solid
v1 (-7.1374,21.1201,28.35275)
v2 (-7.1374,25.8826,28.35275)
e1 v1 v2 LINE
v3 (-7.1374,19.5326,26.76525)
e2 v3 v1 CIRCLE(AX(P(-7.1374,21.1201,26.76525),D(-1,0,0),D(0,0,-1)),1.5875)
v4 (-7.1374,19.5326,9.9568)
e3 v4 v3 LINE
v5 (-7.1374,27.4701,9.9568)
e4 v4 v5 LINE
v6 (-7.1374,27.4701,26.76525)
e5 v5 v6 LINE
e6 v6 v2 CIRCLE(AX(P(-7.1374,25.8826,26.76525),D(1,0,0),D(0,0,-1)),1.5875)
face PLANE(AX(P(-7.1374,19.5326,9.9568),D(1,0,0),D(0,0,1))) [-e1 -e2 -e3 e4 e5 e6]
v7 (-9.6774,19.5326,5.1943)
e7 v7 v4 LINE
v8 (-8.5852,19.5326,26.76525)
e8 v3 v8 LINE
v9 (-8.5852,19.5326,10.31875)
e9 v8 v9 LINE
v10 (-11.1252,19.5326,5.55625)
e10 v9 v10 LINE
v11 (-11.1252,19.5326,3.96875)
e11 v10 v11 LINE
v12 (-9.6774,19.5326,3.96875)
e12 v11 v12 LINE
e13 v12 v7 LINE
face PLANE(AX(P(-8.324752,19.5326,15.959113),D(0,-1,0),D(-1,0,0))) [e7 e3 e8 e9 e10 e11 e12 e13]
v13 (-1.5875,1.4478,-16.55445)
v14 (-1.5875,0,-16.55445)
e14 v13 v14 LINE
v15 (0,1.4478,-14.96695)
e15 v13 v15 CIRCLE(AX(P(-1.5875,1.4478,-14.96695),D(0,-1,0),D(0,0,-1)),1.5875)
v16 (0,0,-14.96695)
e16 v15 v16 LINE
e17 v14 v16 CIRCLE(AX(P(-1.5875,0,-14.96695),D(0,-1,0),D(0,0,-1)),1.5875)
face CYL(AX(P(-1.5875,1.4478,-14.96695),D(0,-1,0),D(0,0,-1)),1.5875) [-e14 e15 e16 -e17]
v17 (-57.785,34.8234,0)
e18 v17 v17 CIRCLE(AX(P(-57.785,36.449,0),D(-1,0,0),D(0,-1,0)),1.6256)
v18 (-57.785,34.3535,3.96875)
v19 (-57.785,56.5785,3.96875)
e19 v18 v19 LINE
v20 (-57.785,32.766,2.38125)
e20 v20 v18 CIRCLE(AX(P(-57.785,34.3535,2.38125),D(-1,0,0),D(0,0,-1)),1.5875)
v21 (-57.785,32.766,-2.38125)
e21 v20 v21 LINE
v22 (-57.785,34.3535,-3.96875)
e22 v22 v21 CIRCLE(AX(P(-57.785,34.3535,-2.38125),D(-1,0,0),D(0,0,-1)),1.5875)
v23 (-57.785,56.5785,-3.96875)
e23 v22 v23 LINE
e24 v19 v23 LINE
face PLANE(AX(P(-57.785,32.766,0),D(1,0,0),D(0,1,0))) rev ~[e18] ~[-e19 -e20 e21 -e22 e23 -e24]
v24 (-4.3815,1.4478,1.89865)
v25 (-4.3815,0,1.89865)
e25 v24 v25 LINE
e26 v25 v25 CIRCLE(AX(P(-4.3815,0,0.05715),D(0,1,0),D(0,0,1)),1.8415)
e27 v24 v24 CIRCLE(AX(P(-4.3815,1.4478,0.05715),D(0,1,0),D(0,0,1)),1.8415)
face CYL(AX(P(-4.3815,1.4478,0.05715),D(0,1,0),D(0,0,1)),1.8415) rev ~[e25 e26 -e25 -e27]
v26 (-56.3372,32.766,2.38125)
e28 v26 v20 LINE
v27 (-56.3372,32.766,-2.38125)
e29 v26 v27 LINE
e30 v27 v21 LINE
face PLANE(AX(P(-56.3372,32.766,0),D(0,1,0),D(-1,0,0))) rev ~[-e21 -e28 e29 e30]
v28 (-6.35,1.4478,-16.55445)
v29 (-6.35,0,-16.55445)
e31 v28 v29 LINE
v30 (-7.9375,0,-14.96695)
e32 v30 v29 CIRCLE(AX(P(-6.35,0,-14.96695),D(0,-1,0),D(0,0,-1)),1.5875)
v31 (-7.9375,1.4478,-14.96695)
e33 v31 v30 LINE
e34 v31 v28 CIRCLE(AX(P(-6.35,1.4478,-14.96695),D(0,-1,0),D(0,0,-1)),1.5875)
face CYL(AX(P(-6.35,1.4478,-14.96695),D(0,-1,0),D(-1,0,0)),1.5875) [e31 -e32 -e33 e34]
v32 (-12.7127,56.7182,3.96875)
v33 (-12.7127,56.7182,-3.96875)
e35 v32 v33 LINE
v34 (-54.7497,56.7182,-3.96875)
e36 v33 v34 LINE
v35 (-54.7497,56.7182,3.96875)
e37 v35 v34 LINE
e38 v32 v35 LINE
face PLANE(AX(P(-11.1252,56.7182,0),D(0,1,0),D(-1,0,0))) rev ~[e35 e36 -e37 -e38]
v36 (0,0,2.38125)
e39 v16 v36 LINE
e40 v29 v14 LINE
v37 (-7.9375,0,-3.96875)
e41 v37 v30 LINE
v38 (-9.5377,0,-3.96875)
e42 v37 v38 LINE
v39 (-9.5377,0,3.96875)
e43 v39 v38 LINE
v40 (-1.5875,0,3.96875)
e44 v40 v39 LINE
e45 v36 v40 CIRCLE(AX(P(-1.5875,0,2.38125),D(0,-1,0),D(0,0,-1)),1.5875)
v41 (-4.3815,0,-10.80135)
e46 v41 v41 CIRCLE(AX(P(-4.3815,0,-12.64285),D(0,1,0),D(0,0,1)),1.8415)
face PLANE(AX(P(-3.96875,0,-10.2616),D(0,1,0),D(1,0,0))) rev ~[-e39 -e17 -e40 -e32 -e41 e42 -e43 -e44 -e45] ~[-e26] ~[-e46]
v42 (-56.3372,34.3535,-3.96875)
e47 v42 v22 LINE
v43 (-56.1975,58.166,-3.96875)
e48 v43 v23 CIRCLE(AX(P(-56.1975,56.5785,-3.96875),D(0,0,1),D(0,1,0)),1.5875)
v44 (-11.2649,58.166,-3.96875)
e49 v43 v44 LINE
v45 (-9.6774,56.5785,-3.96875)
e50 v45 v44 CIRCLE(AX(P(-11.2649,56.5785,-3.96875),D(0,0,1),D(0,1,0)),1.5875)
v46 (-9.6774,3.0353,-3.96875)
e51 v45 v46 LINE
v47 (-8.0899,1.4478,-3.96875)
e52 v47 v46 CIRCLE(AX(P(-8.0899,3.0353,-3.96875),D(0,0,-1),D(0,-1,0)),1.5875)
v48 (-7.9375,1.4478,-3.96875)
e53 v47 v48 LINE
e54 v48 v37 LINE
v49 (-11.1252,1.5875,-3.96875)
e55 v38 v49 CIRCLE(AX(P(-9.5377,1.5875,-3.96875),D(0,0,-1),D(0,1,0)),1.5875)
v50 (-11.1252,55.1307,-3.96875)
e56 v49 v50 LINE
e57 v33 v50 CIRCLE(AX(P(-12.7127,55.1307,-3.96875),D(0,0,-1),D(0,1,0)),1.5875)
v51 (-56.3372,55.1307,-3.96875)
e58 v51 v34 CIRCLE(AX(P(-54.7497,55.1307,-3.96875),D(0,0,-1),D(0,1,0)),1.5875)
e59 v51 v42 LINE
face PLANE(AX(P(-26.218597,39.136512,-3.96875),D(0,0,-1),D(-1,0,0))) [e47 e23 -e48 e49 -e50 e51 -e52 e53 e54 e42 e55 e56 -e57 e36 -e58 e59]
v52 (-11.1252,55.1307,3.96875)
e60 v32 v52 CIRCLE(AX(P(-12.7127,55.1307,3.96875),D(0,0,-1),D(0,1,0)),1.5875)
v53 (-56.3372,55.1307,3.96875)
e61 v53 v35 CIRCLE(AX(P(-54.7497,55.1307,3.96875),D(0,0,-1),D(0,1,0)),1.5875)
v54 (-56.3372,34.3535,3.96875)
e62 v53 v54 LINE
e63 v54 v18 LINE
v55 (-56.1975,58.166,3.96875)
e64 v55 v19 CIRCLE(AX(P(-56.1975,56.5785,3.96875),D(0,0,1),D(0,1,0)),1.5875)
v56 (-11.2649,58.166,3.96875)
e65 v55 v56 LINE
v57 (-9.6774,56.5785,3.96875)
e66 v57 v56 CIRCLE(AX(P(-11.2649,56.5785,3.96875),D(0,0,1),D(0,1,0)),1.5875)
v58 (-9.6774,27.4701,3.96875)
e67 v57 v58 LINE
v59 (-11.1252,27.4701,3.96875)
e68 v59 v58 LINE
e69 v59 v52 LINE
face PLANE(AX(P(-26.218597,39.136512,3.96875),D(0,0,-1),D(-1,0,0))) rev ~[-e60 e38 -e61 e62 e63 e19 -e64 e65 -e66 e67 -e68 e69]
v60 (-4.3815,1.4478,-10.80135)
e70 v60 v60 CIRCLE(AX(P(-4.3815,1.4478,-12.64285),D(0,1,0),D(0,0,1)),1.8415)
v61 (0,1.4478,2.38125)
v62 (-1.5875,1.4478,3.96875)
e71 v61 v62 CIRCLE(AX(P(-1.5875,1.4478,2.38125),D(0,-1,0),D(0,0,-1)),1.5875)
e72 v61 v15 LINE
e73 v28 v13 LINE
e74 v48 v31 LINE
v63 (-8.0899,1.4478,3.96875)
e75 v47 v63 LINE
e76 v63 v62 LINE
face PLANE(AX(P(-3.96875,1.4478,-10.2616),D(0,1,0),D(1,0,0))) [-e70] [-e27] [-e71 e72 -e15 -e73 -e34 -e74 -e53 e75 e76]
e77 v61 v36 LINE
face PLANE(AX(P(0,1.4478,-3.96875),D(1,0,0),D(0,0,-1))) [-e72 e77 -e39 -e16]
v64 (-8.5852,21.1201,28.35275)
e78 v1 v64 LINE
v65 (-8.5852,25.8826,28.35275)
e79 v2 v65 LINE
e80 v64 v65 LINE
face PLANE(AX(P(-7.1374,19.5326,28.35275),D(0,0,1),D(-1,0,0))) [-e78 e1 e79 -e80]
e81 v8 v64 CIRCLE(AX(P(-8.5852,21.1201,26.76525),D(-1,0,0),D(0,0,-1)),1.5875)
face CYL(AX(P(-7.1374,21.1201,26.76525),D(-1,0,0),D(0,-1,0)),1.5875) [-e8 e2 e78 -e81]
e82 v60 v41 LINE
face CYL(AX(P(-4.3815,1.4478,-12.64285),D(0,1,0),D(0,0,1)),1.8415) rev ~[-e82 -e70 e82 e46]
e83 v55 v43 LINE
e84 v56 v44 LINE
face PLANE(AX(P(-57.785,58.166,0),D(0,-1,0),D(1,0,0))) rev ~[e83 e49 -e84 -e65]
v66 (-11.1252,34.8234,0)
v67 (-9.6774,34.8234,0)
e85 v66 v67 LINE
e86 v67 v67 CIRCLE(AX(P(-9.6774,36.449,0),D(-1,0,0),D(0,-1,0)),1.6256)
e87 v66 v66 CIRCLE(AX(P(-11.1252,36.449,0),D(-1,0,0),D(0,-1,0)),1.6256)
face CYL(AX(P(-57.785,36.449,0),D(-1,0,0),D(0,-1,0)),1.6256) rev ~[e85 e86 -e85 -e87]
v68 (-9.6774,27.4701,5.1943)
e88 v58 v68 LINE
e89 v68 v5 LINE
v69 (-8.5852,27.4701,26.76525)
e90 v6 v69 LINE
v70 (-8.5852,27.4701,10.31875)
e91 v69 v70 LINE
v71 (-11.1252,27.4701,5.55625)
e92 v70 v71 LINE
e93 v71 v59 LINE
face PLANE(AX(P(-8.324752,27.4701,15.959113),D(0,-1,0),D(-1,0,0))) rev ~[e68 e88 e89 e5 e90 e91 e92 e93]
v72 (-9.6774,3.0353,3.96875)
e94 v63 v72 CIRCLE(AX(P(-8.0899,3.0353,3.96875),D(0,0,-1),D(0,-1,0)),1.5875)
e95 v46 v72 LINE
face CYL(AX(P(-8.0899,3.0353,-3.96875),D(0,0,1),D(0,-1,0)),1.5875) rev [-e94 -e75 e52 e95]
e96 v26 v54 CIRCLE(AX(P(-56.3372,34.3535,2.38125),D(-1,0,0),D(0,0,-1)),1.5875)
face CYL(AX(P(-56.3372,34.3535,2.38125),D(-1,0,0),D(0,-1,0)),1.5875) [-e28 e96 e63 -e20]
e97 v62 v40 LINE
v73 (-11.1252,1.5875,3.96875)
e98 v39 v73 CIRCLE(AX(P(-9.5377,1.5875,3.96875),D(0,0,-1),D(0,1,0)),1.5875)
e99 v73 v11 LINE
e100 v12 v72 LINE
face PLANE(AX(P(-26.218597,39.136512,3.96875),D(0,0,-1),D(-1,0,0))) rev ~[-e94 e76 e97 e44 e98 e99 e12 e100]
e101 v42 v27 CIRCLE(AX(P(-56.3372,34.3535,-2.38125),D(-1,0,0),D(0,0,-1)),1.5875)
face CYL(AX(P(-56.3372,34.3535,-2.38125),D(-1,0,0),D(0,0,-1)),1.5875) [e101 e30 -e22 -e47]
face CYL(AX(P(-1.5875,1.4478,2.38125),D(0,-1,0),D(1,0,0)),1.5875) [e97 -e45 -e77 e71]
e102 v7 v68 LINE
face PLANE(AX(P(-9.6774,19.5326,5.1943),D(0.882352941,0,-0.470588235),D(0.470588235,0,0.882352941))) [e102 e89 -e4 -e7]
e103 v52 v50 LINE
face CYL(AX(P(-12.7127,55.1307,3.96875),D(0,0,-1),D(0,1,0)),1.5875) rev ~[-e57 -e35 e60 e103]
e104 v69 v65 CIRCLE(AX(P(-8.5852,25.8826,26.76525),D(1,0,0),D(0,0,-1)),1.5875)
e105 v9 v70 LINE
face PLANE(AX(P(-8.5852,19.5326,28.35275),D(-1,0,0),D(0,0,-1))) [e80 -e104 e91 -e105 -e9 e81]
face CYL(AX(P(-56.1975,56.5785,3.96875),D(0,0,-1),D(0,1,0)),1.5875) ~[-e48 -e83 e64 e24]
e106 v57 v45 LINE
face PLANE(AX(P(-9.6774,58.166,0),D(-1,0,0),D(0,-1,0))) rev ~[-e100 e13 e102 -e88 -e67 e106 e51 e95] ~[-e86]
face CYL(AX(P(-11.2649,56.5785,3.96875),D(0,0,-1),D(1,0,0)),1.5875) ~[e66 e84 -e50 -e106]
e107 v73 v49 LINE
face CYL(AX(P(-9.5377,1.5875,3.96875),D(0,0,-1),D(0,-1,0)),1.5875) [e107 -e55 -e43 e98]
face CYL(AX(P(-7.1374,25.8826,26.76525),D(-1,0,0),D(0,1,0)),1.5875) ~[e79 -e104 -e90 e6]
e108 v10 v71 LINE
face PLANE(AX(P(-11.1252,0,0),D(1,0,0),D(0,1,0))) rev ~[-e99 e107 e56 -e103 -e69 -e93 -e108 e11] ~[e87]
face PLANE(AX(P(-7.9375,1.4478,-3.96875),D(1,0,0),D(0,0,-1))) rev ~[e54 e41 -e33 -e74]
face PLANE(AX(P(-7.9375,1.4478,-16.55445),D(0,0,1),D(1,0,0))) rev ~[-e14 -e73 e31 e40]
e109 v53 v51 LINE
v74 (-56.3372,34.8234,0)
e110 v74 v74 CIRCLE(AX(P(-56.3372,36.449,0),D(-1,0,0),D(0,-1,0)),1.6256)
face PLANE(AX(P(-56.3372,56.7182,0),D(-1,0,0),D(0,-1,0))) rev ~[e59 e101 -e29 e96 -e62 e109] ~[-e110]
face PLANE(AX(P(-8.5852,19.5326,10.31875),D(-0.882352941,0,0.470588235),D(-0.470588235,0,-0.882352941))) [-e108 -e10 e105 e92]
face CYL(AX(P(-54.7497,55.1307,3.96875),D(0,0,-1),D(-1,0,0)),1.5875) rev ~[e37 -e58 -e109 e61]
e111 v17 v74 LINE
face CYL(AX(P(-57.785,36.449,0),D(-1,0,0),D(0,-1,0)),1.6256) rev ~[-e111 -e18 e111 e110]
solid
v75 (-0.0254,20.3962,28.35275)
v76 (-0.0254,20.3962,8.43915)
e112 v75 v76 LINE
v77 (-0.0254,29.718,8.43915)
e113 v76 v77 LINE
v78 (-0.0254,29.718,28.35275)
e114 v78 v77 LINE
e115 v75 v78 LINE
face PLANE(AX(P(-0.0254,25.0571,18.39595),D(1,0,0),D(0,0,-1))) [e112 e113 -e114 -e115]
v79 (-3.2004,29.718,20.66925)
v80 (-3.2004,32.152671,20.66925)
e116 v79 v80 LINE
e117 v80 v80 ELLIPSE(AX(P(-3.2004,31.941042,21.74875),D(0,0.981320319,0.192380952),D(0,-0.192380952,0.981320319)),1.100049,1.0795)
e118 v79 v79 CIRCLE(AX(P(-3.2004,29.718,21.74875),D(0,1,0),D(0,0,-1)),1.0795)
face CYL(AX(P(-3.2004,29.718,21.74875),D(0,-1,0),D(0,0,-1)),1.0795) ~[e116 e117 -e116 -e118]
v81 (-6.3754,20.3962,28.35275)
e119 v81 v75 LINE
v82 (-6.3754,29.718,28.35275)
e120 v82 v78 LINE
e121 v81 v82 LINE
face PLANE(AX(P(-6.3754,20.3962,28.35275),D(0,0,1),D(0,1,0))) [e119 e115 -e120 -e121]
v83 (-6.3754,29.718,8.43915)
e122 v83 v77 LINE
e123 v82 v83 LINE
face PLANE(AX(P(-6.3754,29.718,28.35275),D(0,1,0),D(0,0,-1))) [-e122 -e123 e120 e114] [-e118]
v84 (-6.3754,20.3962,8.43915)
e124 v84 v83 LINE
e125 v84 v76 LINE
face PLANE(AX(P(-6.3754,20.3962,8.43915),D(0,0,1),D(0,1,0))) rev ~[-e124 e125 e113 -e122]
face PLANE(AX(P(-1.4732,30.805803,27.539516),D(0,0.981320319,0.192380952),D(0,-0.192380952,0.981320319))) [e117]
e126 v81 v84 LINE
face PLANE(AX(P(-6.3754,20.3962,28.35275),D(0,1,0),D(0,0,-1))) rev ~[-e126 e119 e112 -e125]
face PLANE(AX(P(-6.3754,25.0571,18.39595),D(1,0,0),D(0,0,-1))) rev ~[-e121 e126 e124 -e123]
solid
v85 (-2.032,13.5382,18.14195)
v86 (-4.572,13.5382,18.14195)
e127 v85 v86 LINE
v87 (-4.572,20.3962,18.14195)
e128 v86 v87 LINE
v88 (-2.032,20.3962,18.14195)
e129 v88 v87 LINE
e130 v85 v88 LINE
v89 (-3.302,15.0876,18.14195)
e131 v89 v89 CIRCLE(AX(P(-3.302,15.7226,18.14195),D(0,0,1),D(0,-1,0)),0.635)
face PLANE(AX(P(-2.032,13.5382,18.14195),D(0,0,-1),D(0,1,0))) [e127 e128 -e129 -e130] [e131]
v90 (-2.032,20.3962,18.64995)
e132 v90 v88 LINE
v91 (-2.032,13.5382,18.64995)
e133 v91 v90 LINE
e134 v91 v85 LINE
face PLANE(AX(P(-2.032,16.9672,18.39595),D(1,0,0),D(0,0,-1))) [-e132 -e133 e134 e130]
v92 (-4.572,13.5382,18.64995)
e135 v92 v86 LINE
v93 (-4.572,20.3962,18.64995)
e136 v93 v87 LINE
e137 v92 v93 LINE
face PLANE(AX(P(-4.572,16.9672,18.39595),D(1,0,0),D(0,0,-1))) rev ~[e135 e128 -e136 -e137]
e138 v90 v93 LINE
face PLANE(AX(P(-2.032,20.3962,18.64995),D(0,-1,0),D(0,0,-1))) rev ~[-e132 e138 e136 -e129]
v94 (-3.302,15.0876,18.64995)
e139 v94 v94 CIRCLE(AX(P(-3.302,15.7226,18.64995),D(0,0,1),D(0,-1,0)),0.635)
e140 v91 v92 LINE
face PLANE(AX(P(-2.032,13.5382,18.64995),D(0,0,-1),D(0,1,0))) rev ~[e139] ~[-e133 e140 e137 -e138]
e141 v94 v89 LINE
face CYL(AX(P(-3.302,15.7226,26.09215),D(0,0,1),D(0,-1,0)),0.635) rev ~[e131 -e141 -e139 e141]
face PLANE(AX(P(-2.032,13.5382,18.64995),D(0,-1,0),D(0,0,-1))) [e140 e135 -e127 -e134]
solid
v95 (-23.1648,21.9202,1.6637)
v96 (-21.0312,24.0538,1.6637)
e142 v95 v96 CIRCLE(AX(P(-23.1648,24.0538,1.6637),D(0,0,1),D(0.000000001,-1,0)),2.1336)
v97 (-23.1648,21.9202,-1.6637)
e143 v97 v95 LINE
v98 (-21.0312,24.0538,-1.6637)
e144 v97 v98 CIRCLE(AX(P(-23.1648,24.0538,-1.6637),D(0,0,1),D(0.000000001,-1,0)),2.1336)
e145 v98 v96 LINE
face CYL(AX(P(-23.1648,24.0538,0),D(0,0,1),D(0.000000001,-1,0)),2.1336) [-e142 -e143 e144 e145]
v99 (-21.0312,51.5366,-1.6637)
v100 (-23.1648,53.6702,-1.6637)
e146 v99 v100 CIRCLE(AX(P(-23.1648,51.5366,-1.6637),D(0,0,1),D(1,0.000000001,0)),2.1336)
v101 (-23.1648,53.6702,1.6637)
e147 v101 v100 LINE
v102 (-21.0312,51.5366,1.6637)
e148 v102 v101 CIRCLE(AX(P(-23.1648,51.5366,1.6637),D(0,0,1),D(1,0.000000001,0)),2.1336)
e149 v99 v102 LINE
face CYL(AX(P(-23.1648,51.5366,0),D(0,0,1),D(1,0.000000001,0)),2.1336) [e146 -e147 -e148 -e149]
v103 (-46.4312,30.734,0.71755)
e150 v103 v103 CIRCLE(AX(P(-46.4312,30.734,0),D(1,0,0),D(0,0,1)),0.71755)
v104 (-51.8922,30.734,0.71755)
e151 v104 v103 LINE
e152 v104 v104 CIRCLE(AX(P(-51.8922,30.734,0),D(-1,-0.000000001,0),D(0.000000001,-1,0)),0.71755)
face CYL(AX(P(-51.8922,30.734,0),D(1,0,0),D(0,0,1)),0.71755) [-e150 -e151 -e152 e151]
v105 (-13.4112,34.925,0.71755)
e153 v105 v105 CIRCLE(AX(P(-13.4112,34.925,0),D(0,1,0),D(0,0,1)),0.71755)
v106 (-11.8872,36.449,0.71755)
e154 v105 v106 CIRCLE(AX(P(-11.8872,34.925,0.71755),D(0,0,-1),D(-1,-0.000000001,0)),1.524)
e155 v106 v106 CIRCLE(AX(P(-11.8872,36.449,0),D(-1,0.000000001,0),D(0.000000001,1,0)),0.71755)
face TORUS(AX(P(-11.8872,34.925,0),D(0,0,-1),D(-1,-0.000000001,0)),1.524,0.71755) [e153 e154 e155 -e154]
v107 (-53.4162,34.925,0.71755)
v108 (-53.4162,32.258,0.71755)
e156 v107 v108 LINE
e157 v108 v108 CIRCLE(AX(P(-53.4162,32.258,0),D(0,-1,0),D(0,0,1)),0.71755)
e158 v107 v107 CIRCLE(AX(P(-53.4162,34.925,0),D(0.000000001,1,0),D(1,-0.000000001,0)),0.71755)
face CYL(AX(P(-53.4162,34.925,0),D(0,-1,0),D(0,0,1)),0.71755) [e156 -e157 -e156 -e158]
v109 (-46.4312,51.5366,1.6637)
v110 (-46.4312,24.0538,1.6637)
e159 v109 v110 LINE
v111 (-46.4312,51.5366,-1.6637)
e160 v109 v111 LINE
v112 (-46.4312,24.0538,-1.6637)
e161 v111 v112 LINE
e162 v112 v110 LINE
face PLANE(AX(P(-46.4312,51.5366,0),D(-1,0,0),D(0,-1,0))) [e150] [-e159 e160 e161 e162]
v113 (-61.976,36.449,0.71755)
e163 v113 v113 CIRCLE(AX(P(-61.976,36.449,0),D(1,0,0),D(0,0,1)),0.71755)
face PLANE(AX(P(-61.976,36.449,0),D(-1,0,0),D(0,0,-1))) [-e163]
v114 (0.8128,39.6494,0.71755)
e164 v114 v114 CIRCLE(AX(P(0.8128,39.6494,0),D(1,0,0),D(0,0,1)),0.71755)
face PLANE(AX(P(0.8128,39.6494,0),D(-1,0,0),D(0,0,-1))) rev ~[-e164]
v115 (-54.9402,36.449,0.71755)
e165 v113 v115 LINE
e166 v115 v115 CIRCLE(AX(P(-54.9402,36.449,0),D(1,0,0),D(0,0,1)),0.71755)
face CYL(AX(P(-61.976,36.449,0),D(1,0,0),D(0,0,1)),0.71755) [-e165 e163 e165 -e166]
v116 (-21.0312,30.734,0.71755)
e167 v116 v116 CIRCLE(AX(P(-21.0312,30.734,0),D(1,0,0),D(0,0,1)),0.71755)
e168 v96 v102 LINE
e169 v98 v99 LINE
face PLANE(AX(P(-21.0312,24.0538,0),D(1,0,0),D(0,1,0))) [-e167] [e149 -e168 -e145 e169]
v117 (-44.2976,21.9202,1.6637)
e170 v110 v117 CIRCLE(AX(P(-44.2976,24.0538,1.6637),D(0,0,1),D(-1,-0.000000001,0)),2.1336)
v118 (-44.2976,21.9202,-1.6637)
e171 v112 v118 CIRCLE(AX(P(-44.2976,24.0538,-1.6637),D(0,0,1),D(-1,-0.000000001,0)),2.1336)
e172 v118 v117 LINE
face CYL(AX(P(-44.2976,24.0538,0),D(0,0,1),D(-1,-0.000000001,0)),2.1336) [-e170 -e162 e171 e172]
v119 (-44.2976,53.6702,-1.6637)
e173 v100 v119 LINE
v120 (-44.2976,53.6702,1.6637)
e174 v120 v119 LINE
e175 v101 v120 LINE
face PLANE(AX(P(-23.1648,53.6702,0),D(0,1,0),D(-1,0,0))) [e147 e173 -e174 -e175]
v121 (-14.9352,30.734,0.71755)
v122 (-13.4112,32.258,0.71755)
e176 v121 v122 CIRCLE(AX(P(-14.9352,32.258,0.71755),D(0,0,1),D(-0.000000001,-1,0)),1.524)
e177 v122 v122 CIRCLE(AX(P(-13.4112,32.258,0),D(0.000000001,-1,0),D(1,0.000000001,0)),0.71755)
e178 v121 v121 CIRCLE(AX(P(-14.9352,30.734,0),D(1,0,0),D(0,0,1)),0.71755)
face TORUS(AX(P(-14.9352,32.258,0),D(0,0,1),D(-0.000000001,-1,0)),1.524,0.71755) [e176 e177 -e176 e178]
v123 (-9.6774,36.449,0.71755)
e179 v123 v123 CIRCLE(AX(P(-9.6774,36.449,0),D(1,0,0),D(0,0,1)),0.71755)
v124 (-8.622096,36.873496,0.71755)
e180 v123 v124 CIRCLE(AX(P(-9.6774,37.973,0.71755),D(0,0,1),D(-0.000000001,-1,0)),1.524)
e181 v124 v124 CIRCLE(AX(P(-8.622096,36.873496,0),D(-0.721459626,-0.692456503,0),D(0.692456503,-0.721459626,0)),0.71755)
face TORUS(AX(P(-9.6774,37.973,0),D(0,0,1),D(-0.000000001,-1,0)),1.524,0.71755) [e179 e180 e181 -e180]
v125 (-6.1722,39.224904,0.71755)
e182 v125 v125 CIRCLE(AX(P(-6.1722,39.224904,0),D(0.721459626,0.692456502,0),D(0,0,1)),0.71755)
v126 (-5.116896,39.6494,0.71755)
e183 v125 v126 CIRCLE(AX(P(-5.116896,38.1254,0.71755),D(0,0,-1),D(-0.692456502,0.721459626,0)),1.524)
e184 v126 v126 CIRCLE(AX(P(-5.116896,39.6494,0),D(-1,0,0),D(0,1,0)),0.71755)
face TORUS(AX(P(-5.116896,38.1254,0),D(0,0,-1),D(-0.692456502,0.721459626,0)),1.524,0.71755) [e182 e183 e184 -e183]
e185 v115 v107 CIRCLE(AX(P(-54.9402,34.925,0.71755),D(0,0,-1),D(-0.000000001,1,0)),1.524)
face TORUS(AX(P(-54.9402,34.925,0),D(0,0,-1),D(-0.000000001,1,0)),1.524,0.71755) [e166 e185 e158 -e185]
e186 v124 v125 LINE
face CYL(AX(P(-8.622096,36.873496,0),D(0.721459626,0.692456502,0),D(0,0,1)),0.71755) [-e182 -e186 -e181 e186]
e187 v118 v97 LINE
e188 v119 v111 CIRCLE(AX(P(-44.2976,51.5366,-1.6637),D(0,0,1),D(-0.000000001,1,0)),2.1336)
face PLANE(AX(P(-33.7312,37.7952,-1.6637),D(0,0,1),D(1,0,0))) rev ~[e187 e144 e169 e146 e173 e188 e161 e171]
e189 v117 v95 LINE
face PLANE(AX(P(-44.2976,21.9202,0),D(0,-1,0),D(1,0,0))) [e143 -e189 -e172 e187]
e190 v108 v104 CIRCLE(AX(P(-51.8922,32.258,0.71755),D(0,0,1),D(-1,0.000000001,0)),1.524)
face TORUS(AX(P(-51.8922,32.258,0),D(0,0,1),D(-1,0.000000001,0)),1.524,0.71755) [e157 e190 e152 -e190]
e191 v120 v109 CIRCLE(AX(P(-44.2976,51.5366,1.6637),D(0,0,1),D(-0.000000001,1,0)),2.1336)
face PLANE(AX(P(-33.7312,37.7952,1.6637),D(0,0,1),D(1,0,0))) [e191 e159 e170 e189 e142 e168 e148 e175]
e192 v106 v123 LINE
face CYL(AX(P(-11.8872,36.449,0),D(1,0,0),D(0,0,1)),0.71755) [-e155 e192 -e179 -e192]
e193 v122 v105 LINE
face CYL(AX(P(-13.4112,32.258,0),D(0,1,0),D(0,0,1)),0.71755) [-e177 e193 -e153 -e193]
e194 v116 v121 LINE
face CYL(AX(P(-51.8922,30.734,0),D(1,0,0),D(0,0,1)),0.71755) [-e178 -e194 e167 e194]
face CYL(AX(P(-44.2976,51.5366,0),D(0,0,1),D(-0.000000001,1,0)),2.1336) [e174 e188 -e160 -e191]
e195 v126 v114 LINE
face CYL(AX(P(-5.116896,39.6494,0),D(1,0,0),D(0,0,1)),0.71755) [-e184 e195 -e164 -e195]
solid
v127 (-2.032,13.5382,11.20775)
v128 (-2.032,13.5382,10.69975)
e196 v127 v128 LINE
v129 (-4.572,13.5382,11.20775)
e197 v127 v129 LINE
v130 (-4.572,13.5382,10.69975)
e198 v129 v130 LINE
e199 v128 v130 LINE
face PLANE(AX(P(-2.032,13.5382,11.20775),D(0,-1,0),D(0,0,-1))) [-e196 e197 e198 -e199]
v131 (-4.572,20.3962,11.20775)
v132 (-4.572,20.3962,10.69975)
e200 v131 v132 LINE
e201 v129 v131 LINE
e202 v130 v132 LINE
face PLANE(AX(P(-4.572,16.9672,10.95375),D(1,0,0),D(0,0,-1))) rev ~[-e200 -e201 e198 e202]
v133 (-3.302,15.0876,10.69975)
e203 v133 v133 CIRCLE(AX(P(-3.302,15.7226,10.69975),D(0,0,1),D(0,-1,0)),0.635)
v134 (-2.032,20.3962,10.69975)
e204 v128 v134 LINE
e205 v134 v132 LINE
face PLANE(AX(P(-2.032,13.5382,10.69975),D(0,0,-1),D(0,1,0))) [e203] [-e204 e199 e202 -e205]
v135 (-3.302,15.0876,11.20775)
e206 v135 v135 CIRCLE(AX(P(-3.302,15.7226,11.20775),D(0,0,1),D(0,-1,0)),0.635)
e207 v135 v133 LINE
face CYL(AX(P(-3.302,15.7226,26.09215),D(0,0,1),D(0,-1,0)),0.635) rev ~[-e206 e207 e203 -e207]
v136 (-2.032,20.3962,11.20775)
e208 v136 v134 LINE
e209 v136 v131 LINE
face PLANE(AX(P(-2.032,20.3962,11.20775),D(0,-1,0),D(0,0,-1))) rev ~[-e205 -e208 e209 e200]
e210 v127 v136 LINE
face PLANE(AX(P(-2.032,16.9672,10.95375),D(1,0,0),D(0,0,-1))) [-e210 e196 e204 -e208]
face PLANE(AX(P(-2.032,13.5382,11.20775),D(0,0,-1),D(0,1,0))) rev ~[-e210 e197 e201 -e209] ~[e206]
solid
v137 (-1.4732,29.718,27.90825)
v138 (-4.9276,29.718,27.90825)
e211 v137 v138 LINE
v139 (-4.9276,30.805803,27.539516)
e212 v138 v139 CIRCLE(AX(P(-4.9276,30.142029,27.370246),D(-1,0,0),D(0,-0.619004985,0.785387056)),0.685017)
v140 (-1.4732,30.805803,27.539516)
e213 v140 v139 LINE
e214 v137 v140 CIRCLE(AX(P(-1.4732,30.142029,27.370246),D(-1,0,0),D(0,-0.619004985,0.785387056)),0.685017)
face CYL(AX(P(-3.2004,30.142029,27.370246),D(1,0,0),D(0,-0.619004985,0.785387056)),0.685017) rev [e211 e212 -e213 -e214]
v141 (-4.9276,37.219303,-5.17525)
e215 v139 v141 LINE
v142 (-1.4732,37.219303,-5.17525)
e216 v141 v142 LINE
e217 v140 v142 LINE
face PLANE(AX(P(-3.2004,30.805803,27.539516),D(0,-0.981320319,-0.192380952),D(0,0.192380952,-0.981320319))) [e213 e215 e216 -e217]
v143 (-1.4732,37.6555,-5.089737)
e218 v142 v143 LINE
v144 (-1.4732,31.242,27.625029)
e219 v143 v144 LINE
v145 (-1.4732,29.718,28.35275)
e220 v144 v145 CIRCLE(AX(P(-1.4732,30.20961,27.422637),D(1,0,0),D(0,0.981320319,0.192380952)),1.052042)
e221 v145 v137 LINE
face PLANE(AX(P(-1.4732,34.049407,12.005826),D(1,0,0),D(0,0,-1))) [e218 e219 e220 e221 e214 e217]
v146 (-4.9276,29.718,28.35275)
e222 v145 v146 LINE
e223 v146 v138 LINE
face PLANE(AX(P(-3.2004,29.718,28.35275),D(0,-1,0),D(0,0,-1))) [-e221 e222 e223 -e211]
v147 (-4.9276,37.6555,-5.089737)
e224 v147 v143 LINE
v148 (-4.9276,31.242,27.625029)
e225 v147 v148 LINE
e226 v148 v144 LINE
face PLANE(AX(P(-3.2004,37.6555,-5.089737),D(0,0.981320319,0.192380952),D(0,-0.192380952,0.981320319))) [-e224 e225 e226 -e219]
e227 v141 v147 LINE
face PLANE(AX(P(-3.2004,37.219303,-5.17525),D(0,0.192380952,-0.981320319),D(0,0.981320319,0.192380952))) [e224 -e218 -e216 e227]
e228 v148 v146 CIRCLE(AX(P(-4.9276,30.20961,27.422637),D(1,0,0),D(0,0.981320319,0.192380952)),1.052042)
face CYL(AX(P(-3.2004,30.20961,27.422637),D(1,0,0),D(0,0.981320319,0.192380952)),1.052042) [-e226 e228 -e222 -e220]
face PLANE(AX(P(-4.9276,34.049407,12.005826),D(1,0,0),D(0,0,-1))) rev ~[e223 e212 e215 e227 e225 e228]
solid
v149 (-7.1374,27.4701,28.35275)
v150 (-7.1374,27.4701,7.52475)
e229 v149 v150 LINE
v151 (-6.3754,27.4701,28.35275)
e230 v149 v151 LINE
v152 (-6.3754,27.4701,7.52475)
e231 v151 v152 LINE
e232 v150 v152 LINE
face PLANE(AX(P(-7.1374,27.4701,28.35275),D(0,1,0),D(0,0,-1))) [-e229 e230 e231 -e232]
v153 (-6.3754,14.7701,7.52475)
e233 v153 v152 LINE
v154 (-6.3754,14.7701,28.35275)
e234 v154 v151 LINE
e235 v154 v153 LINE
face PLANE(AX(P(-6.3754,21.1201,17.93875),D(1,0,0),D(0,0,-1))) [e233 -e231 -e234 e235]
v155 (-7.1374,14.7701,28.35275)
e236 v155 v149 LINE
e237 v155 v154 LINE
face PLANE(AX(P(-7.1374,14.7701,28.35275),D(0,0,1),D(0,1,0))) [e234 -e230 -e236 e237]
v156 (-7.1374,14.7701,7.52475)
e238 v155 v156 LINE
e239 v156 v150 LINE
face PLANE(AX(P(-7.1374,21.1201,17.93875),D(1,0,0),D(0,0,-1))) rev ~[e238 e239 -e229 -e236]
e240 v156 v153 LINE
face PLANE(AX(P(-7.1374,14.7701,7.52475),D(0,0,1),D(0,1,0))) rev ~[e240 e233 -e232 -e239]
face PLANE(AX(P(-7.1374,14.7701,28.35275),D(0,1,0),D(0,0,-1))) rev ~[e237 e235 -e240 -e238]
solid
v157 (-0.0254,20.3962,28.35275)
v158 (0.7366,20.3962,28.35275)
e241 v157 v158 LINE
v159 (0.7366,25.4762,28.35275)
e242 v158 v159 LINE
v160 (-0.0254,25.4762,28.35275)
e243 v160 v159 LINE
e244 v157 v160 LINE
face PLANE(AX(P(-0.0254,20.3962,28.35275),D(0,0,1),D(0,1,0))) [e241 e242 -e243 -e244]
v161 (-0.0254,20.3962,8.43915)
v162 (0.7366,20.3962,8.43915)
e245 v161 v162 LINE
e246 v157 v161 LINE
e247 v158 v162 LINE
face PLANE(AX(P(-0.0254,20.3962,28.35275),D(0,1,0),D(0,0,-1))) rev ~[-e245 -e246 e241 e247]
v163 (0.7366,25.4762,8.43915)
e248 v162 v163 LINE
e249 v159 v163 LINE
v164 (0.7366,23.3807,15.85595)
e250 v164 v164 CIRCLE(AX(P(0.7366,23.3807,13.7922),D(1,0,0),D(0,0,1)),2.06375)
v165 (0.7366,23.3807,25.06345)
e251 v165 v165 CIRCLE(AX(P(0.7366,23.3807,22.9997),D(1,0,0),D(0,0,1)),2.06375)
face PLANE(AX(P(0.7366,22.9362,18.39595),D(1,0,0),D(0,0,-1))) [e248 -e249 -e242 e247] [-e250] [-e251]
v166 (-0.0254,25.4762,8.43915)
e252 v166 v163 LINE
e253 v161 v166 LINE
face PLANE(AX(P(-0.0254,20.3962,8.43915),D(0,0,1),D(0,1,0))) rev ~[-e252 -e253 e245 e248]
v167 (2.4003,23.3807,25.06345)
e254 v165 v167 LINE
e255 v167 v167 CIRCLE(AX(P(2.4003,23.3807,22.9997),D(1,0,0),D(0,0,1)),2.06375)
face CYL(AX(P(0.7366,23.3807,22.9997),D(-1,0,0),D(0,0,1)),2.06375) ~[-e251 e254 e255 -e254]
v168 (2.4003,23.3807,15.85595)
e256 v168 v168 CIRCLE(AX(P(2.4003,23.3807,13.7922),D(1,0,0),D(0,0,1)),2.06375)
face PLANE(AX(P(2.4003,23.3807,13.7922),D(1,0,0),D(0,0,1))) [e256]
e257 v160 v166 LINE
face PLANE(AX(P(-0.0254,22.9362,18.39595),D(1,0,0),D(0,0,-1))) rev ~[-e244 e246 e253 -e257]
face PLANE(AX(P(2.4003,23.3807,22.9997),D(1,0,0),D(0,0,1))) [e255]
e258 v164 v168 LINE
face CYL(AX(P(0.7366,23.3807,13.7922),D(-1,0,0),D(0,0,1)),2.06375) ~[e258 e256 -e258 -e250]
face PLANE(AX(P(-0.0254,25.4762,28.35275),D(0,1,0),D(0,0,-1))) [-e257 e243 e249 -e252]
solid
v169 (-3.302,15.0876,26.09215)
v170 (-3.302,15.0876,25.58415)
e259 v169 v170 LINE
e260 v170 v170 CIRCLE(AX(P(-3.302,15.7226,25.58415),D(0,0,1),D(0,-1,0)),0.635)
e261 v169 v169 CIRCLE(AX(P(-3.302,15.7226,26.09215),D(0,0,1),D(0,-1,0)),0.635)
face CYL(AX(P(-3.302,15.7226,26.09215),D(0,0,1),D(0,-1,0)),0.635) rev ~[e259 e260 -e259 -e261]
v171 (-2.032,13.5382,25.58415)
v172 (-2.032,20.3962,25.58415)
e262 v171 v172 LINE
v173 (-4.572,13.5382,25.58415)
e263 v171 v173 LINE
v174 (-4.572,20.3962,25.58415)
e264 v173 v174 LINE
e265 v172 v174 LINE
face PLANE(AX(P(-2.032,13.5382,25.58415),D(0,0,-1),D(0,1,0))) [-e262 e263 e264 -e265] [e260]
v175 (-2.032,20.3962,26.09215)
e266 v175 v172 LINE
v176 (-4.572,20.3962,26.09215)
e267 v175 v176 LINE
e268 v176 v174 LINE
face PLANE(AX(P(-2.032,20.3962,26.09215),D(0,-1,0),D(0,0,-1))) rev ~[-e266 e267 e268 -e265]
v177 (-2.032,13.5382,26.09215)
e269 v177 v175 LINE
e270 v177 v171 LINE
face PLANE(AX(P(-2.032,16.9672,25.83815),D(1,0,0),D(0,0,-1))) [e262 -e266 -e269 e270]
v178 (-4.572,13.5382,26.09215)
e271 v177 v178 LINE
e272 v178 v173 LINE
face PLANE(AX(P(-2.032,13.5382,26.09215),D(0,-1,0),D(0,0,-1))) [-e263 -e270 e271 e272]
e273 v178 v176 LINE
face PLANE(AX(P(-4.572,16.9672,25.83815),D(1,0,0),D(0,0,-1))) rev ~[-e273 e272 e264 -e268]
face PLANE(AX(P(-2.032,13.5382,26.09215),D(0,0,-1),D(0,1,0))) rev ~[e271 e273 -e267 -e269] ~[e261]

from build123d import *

# Parameters (mm, degrees)
BOSS_EXTRUDE1_DEPTH   = 3.96875
SKETCH2_W             = 7.9375
SKETCH2_H             = 12.5857
BOSS_EXTRUDE2_DEPTH   = 1.4478
SKETCH13_R            = 1.8415
CUT_EXTRUDE3_DEPTH    = 83.644481068
BOSS_EXTRUDE3_DEPTH   = 7.9375
SKETCH12_R            = 1.6256
CUT_EXTRUDE2_DEPTH    = 87.754067418
FILLET1_R             = 1.5875
SKETCH5_W             = 20.828
SKETCH5_H             = 12.7
BOSS_EXTRUDE5_DEPTH   = 0.762
SKETCH4_W             = 19.9136
SKETCH4_H             = 9.3218
BOSS_EXTRUDE4_DEPTH   = 6.35
SKETCH6_W             = 19.9136
SKETCH6_H             = 5.08
BOSS_EXTRUDE6_DEPTH   = 0.762
SKETCH7_R             = 2.06375
BOSS_EXTRUDE7_DEPTH   = 1.6637
SKETCH8_W             = 0.508
SKETCH8_H             = 6.858
BOSS_EXTRUDE8_DEPTH   = 2.54
BOSS_EXTRUDE8_2_DEPTH = 2.54
BOSS_EXTRUDE8_3_DEPTH = 2.54
SKETCH9_R             = 0.635
CUT_EXTRUDE1_DEPTH    = 93.418192325
BOSS_EXTRUDE9_DEPTH   = 1.7272
BOSS_EXTRUDE10_REACH  = 72.944
SKETCH11_R            = 1.0795
SKETCH15_R            = 0.71755
BOSS_EXTRUDE11_DEPTH  = 1.6637


with BuildPart() as part:
    # Sketch1 → Boss-Extrude1 (new, symmetric)
    with BuildSketch(Plane.XY):
        Polygon((0, 0), (-11.1252, 0), (-11.1252, 56.7182), (-56.3372, 56.7182), (-56.3372, 32.766), (-57.785, 32.766), (-57.785, 58.166), (-9.6774, 58.166), (-9.6774, 1.4478), (0, 1.4478), align=None)
    extrude(amount=BOSS_EXTRUDE1_DEPTH, both=True)

    # Sketch2 → Boss-Extrude2 (add)
    with BuildSketch(Plane(origin=(0, 1.4478, 0), x_dir=(1, 0, 0), z_dir=(0, 1, 0))):
        with Locations((-3.96875, 10.2616)):
            Rectangle(SKETCH2_W, SKETCH2_H)
    extrude(amount=-BOSS_EXTRUDE2_DEPTH)

    # Sketch13 → Cut-Extrude3 (cut, through all)
    with BuildSketch(Plane(origin=(0, 1.4478, 0), x_dir=(1, 0, 0), z_dir=(0, 1, 0))):
        with Locations(Location((-4.3815, 12.64285, 0), (0, 0, 270))):
            Circle(SKETCH13_R)
        with Locations(Location((-4.3815, -0.05715, 0), (0, 0, 270))):
            Circle(SKETCH13_R)
    extrude(amount=-CUT_EXTRUDE3_DEPTH, mode=Mode.SUBTRACT)

    # Sketch3 → Boss-Extrude3 (add)
    with BuildSketch(Plane(origin=(0, 19.5326, 0), x_dir=(1, 0, 0), z_dir=(0, 1, 0))):
        Polygon((-9.6774, -3.96875), (-9.6774, -5.1943), (-7.1374, -9.9568), (-7.1374, -28.35275), (-8.5852, -28.35275), (-8.5852, -10.31875), (-11.1252, -5.55625), (-11.1252, -3.96875), align=None)
    extrude(amount=BOSS_EXTRUDE3_DEPTH)

    # Sketch12 → Cut-Extrude2 (cut, through all)
    with BuildSketch(Plane.ZY.offset(57.785)):
        with Locations(Location((0, 36.449, 0), (0, 0, 270))):
            Circle(SKETCH12_R)
    extrude(amount=-CUT_EXTRUDE2_DEPTH, mode=Mode.SUBTRACT)

    # Fillet1
    fillet1_edges = [part.edges().sort_by_distance(p)[0] for p in [
        (-57.0611, 32.766, -3.96875),
        (-11.1252, 0, 0),
        (-11.1252, 56.7182, 0),
        (-56.3372, 56.7182, 0),
        (-57.785, 58.166, 0),
        (-9.6774, 58.166, 0),
        (-9.6774, 1.4478, 0),
        (-57.0611, 32.766, 3.96875),
        (0, 0.7239, -16.55445),
        (-7.9375, 0.7239, -16.55445),
        (0, 0.7239, 3.96875),
        (-7.8613, 19.5326, 28.35275),
        (-7.8613, 27.4701, 28.35275),
    ]]
    fillet(fillet1_edges, radius=FILLET1_R)


with BuildPart() as body_2:
    # Sketch5 → Boss-Extrude5 (new body)
    with BuildSketch(Plane(origin=(-7.1374, 0, 0), x_dir=(0, 0, -1), z_dir=(1, 0, 0))):
        with Locations((-17.93875, 21.1201)):
            Rectangle(SKETCH5_W, SKETCH5_H)
    extrude(amount=BOSS_EXTRUDE5_DEPTH)


with BuildPart() as body_3:
    # Sketch4 → Boss-Extrude4 (new body)
    with BuildSketch(Plane(origin=(-6.3754, 0, 0), x_dir=(0, 0, -1), z_dir=(1, 0, 0))):
        with Locations((-18.39595, 25.0571)):
            Rectangle(SKETCH4_W, SKETCH4_H)
    extrude(amount=BOSS_EXTRUDE4_DEPTH)

    # Boss-Extrude10: up to this plane
    boss_extrude10_end = Plane(origin=(-1.4732, 30.805803118, 27.539516146), z_dir=(0, 0.9813203193458281, 0.19238095238095218))
    # Sketch11 → Boss-Extrude10 (add, up to the surface)
    with BuildSketch(Plane(origin=(0, 29.718, 0), x_dir=(1, 0, 0), z_dir=(0, 1, 0)), mode=Mode.PRIVATE) as boss_extrude10_sk1:
        with Locations(Location((-3.2004, -21.74875, 0), (0, 0, 90))):
            Circle(SKETCH11_R)
    boss_extrude10_tool1 = split(extrude(boss_extrude10_sk1.sketch, amount=BOSS_EXTRUDE10_REACH, mode=Mode.PRIVATE), bisect_by=boss_extrude10_end, keep=Keep.BOTH, mode=Mode.PRIVATE)
    add(boss_extrude10_tool1.solids().sort_by_distance((-3.2004, 29.718, 21.74875))[0])


with BuildPart() as body_4:
    # Sketch6 → Boss-Extrude6 (new body)
    with BuildSketch(Plane(origin=(-0.0254, 0, 0), x_dir=(0, 0, -1), z_dir=(1, 0, 0))):
        with Locations((-18.39595, 22.9362)):
            Rectangle(SKETCH6_W, SKETCH6_H)
    extrude(amount=BOSS_EXTRUDE6_DEPTH)

    # Sketch7 → Boss-Extrude7 (add)
    with BuildSketch(Plane(origin=(0.7366, 0, 0), x_dir=(0, 0, -1), z_dir=(1, 0, 0))):
        with Locations(Location((-22.9997, 23.3807, 0), (0, 0, 180))):
            Circle(SKETCH7_R)
        with Locations(Location((-13.7922, 23.3807, 0), (0, 0, 180))):
            Circle(SKETCH7_R)
    extrude(amount=BOSS_EXTRUDE7_DEPTH)


with BuildPart() as body_5:
    # Sketch8 → Boss-Extrude8 (new body)
    with BuildSketch(Plane(origin=(-2.032, 0, 0), x_dir=(0, 0, -1), z_dir=(1, 0, 0))):
        with Locations((-25.83815, 16.9672)):
            Rectangle(SKETCH8_W, SKETCH8_H)
    extrude(amount=-BOSS_EXTRUDE8_DEPTH)


with BuildPart() as body_6:
    # Sketch8 → Boss-Extrude8 2 (new body)
    with BuildSketch(Plane(origin=(-2.032, 0, 0), x_dir=(0, 0, -1), z_dir=(1, 0, 0))):
        with Locations((-18.39595, 16.9672)):
            Rectangle(SKETCH8_W, SKETCH8_H)
    extrude(amount=-BOSS_EXTRUDE8_2_DEPTH)


with BuildPart() as body_7:
    # Sketch8 → Boss-Extrude8 3 (new body)
    with BuildSketch(Plane(origin=(-2.032, 0, 0), x_dir=(0, 0, -1), z_dir=(1, 0, 0))):
        with Locations((-10.95375, 16.9672)):
            Rectangle(SKETCH8_W, SKETCH8_H)
    extrude(amount=-BOSS_EXTRUDE8_3_DEPTH)


with BuildPart() as cut_extrude1_tool:
    # Sketch9 → Cut-Extrude1 (new, through all)
    with BuildSketch(Plane.XY.offset(26.09215)):
        with Locations(Location((-3.302, 15.7226, 0), (0, 0, 270))):
            Circle(SKETCH9_R)
    extrude(amount=-CUT_EXTRUDE1_DEPTH)


with BuildPart() as body_5_1:
    add(body_5.part)

    # Cut-Extrude1: cut by cut_extrude1_tool
    add(cut_extrude1_tool.part, mode=Mode.SUBTRACT)


with BuildPart() as body_6_1:
    add(body_6.part)

    # Cut-Extrude1: cut by cut_extrude1_tool
    add(cut_extrude1_tool.part, mode=Mode.SUBTRACT)


with BuildPart() as body_7_1:
    add(body_7.part)

    # Cut-Extrude1: cut by cut_extrude1_tool
    add(cut_extrude1_tool.part, mode=Mode.SUBTRACT)


with BuildPart() as body_8:
    # Sketch10 → Boss-Extrude9 (new, symmetric)
    with BuildSketch(Plane(origin=(-3.2004, 0, 0), x_dir=(0, 0, -1), z_dir=(1, 0, 0))):
        with BuildLine():
            Line((-27.539516146, 30.805803118), (5.17525, 37.219303118))
            Line((5.17525, 37.219303118), (5.089736667, 37.6555))
            Line((5.089736667, 37.6555), (-27.62502948, 31.242))
            ThreePointArc((-27.62502948, 31.242), (-28.371997816, 30.662936751), (-28.35275, 29.718))
            Line((-28.35275, 29.718), (-27.90825, 29.718))
            ThreePointArc((-27.90825, 29.718), (-28.0190051, 30.361939407), (-27.539516146, 30.805803118))
        make_face()
    extrude(amount=BOSS_EXTRUDE9_DEPTH, both=True)


with BuildPart() as body_9:
    # Sweep1: sweep along a curve in space
    with BuildLine() as sweep1_path:
        Line((-61.976, 36.449, 0), (-54.9402, 36.449, 0))
        ThreePointArc((-54.9402, 36.449, 0), (-53.862569265, 36.002630735, 0), (-53.4162, 34.925, 0))
        Line((-53.4162, 34.925, 0), (-53.4162, 32.258, 0))
        ThreePointArc((-53.4162, 32.258, 0), (-52.969830735, 31.180369265, 0), (-51.8922, 30.734, 0))
        Line((-51.8922, 30.734, 0), (-46.4312, 30.734, 0))
        Line((-46.4312, 30.734, 0), (-21.0312, 30.734, 0))
        Line((-21.0312, 30.734, 0), (-14.9352, 30.734, 0))
        ThreePointArc((-14.9352, 30.734, 0), (-13.857569265, 31.180369265, 0), (-13.4112, 32.258, 0))
        Line((-13.4112, 32.258, 0), (-13.4112, 34.925, 0))
        ThreePointArc((-13.4112, 34.925, 0), (-12.964830735, 36.002630735, 0), (-11.8872, 36.449, 0))
        Line((-11.8872, 36.449, 0), (-9.6774, 36.449, 0))
        ThreePointArc((-9.6774, 36.449, 0), (-9.108659643, 36.559100991, 0), (-8.622096291, 36.873495529, 0))
        Line((-8.622096291, 36.873495529, 0), (-6.1722, 39.224904471, 0))
        ThreePointArc((-6.1722, 39.224904471, 0), (-5.685636647, 39.539299009, 0), (-5.116896291, 39.6494, 0))
        Line((-5.116896291, 39.6494, 0), (0.8128, 39.6494, 0))
    # Sketch15 → Sweep1 (sweep)
    with BuildSketch(Plane.ZY.offset(61.976)):
        with Locations((0, 36.449)):
            Circle(SKETCH15_R)
    sweep(path=sweep1_path.line)

    # Sketch16 → Boss-Extrude11 (add, symmetric)
    with BuildSketch(Plane.XY):
        with BuildLine():
            Line((-46.4312, 51.5366), (-46.4312, 24.0538))
            ThreePointArc((-46.4312, 24.0538), (-45.806283028, 22.545116972), (-44.2976, 21.9202))
            Line((-44.2976, 21.9202), (-23.1648, 21.9202))
            ThreePointArc((-23.1648, 21.9202), (-21.656116972, 22.545116972), (-21.0312, 24.0538))
            Line((-21.0312, 24.0538), (-21.0312, 51.5366))
            ThreePointArc((-21.0312, 51.5366), (-21.656116972, 53.045283028), (-23.1648, 53.6702))
            Line((-23.1648, 53.6702), (-44.2976, 53.6702))
            ThreePointArc((-44.2976, 53.6702), (-45.806283028, 53.045283028), (-46.4312, 51.5366))
        make_face()
    extrude(amount=BOSS_EXTRUDE11_DEPTH, both=True)


solid = Compound([part.part, body_2.part, body_3.part, body_4.part, body_5_1.part, body_6_1.part, body_7_1.part, body_8.part, body_9.part])
